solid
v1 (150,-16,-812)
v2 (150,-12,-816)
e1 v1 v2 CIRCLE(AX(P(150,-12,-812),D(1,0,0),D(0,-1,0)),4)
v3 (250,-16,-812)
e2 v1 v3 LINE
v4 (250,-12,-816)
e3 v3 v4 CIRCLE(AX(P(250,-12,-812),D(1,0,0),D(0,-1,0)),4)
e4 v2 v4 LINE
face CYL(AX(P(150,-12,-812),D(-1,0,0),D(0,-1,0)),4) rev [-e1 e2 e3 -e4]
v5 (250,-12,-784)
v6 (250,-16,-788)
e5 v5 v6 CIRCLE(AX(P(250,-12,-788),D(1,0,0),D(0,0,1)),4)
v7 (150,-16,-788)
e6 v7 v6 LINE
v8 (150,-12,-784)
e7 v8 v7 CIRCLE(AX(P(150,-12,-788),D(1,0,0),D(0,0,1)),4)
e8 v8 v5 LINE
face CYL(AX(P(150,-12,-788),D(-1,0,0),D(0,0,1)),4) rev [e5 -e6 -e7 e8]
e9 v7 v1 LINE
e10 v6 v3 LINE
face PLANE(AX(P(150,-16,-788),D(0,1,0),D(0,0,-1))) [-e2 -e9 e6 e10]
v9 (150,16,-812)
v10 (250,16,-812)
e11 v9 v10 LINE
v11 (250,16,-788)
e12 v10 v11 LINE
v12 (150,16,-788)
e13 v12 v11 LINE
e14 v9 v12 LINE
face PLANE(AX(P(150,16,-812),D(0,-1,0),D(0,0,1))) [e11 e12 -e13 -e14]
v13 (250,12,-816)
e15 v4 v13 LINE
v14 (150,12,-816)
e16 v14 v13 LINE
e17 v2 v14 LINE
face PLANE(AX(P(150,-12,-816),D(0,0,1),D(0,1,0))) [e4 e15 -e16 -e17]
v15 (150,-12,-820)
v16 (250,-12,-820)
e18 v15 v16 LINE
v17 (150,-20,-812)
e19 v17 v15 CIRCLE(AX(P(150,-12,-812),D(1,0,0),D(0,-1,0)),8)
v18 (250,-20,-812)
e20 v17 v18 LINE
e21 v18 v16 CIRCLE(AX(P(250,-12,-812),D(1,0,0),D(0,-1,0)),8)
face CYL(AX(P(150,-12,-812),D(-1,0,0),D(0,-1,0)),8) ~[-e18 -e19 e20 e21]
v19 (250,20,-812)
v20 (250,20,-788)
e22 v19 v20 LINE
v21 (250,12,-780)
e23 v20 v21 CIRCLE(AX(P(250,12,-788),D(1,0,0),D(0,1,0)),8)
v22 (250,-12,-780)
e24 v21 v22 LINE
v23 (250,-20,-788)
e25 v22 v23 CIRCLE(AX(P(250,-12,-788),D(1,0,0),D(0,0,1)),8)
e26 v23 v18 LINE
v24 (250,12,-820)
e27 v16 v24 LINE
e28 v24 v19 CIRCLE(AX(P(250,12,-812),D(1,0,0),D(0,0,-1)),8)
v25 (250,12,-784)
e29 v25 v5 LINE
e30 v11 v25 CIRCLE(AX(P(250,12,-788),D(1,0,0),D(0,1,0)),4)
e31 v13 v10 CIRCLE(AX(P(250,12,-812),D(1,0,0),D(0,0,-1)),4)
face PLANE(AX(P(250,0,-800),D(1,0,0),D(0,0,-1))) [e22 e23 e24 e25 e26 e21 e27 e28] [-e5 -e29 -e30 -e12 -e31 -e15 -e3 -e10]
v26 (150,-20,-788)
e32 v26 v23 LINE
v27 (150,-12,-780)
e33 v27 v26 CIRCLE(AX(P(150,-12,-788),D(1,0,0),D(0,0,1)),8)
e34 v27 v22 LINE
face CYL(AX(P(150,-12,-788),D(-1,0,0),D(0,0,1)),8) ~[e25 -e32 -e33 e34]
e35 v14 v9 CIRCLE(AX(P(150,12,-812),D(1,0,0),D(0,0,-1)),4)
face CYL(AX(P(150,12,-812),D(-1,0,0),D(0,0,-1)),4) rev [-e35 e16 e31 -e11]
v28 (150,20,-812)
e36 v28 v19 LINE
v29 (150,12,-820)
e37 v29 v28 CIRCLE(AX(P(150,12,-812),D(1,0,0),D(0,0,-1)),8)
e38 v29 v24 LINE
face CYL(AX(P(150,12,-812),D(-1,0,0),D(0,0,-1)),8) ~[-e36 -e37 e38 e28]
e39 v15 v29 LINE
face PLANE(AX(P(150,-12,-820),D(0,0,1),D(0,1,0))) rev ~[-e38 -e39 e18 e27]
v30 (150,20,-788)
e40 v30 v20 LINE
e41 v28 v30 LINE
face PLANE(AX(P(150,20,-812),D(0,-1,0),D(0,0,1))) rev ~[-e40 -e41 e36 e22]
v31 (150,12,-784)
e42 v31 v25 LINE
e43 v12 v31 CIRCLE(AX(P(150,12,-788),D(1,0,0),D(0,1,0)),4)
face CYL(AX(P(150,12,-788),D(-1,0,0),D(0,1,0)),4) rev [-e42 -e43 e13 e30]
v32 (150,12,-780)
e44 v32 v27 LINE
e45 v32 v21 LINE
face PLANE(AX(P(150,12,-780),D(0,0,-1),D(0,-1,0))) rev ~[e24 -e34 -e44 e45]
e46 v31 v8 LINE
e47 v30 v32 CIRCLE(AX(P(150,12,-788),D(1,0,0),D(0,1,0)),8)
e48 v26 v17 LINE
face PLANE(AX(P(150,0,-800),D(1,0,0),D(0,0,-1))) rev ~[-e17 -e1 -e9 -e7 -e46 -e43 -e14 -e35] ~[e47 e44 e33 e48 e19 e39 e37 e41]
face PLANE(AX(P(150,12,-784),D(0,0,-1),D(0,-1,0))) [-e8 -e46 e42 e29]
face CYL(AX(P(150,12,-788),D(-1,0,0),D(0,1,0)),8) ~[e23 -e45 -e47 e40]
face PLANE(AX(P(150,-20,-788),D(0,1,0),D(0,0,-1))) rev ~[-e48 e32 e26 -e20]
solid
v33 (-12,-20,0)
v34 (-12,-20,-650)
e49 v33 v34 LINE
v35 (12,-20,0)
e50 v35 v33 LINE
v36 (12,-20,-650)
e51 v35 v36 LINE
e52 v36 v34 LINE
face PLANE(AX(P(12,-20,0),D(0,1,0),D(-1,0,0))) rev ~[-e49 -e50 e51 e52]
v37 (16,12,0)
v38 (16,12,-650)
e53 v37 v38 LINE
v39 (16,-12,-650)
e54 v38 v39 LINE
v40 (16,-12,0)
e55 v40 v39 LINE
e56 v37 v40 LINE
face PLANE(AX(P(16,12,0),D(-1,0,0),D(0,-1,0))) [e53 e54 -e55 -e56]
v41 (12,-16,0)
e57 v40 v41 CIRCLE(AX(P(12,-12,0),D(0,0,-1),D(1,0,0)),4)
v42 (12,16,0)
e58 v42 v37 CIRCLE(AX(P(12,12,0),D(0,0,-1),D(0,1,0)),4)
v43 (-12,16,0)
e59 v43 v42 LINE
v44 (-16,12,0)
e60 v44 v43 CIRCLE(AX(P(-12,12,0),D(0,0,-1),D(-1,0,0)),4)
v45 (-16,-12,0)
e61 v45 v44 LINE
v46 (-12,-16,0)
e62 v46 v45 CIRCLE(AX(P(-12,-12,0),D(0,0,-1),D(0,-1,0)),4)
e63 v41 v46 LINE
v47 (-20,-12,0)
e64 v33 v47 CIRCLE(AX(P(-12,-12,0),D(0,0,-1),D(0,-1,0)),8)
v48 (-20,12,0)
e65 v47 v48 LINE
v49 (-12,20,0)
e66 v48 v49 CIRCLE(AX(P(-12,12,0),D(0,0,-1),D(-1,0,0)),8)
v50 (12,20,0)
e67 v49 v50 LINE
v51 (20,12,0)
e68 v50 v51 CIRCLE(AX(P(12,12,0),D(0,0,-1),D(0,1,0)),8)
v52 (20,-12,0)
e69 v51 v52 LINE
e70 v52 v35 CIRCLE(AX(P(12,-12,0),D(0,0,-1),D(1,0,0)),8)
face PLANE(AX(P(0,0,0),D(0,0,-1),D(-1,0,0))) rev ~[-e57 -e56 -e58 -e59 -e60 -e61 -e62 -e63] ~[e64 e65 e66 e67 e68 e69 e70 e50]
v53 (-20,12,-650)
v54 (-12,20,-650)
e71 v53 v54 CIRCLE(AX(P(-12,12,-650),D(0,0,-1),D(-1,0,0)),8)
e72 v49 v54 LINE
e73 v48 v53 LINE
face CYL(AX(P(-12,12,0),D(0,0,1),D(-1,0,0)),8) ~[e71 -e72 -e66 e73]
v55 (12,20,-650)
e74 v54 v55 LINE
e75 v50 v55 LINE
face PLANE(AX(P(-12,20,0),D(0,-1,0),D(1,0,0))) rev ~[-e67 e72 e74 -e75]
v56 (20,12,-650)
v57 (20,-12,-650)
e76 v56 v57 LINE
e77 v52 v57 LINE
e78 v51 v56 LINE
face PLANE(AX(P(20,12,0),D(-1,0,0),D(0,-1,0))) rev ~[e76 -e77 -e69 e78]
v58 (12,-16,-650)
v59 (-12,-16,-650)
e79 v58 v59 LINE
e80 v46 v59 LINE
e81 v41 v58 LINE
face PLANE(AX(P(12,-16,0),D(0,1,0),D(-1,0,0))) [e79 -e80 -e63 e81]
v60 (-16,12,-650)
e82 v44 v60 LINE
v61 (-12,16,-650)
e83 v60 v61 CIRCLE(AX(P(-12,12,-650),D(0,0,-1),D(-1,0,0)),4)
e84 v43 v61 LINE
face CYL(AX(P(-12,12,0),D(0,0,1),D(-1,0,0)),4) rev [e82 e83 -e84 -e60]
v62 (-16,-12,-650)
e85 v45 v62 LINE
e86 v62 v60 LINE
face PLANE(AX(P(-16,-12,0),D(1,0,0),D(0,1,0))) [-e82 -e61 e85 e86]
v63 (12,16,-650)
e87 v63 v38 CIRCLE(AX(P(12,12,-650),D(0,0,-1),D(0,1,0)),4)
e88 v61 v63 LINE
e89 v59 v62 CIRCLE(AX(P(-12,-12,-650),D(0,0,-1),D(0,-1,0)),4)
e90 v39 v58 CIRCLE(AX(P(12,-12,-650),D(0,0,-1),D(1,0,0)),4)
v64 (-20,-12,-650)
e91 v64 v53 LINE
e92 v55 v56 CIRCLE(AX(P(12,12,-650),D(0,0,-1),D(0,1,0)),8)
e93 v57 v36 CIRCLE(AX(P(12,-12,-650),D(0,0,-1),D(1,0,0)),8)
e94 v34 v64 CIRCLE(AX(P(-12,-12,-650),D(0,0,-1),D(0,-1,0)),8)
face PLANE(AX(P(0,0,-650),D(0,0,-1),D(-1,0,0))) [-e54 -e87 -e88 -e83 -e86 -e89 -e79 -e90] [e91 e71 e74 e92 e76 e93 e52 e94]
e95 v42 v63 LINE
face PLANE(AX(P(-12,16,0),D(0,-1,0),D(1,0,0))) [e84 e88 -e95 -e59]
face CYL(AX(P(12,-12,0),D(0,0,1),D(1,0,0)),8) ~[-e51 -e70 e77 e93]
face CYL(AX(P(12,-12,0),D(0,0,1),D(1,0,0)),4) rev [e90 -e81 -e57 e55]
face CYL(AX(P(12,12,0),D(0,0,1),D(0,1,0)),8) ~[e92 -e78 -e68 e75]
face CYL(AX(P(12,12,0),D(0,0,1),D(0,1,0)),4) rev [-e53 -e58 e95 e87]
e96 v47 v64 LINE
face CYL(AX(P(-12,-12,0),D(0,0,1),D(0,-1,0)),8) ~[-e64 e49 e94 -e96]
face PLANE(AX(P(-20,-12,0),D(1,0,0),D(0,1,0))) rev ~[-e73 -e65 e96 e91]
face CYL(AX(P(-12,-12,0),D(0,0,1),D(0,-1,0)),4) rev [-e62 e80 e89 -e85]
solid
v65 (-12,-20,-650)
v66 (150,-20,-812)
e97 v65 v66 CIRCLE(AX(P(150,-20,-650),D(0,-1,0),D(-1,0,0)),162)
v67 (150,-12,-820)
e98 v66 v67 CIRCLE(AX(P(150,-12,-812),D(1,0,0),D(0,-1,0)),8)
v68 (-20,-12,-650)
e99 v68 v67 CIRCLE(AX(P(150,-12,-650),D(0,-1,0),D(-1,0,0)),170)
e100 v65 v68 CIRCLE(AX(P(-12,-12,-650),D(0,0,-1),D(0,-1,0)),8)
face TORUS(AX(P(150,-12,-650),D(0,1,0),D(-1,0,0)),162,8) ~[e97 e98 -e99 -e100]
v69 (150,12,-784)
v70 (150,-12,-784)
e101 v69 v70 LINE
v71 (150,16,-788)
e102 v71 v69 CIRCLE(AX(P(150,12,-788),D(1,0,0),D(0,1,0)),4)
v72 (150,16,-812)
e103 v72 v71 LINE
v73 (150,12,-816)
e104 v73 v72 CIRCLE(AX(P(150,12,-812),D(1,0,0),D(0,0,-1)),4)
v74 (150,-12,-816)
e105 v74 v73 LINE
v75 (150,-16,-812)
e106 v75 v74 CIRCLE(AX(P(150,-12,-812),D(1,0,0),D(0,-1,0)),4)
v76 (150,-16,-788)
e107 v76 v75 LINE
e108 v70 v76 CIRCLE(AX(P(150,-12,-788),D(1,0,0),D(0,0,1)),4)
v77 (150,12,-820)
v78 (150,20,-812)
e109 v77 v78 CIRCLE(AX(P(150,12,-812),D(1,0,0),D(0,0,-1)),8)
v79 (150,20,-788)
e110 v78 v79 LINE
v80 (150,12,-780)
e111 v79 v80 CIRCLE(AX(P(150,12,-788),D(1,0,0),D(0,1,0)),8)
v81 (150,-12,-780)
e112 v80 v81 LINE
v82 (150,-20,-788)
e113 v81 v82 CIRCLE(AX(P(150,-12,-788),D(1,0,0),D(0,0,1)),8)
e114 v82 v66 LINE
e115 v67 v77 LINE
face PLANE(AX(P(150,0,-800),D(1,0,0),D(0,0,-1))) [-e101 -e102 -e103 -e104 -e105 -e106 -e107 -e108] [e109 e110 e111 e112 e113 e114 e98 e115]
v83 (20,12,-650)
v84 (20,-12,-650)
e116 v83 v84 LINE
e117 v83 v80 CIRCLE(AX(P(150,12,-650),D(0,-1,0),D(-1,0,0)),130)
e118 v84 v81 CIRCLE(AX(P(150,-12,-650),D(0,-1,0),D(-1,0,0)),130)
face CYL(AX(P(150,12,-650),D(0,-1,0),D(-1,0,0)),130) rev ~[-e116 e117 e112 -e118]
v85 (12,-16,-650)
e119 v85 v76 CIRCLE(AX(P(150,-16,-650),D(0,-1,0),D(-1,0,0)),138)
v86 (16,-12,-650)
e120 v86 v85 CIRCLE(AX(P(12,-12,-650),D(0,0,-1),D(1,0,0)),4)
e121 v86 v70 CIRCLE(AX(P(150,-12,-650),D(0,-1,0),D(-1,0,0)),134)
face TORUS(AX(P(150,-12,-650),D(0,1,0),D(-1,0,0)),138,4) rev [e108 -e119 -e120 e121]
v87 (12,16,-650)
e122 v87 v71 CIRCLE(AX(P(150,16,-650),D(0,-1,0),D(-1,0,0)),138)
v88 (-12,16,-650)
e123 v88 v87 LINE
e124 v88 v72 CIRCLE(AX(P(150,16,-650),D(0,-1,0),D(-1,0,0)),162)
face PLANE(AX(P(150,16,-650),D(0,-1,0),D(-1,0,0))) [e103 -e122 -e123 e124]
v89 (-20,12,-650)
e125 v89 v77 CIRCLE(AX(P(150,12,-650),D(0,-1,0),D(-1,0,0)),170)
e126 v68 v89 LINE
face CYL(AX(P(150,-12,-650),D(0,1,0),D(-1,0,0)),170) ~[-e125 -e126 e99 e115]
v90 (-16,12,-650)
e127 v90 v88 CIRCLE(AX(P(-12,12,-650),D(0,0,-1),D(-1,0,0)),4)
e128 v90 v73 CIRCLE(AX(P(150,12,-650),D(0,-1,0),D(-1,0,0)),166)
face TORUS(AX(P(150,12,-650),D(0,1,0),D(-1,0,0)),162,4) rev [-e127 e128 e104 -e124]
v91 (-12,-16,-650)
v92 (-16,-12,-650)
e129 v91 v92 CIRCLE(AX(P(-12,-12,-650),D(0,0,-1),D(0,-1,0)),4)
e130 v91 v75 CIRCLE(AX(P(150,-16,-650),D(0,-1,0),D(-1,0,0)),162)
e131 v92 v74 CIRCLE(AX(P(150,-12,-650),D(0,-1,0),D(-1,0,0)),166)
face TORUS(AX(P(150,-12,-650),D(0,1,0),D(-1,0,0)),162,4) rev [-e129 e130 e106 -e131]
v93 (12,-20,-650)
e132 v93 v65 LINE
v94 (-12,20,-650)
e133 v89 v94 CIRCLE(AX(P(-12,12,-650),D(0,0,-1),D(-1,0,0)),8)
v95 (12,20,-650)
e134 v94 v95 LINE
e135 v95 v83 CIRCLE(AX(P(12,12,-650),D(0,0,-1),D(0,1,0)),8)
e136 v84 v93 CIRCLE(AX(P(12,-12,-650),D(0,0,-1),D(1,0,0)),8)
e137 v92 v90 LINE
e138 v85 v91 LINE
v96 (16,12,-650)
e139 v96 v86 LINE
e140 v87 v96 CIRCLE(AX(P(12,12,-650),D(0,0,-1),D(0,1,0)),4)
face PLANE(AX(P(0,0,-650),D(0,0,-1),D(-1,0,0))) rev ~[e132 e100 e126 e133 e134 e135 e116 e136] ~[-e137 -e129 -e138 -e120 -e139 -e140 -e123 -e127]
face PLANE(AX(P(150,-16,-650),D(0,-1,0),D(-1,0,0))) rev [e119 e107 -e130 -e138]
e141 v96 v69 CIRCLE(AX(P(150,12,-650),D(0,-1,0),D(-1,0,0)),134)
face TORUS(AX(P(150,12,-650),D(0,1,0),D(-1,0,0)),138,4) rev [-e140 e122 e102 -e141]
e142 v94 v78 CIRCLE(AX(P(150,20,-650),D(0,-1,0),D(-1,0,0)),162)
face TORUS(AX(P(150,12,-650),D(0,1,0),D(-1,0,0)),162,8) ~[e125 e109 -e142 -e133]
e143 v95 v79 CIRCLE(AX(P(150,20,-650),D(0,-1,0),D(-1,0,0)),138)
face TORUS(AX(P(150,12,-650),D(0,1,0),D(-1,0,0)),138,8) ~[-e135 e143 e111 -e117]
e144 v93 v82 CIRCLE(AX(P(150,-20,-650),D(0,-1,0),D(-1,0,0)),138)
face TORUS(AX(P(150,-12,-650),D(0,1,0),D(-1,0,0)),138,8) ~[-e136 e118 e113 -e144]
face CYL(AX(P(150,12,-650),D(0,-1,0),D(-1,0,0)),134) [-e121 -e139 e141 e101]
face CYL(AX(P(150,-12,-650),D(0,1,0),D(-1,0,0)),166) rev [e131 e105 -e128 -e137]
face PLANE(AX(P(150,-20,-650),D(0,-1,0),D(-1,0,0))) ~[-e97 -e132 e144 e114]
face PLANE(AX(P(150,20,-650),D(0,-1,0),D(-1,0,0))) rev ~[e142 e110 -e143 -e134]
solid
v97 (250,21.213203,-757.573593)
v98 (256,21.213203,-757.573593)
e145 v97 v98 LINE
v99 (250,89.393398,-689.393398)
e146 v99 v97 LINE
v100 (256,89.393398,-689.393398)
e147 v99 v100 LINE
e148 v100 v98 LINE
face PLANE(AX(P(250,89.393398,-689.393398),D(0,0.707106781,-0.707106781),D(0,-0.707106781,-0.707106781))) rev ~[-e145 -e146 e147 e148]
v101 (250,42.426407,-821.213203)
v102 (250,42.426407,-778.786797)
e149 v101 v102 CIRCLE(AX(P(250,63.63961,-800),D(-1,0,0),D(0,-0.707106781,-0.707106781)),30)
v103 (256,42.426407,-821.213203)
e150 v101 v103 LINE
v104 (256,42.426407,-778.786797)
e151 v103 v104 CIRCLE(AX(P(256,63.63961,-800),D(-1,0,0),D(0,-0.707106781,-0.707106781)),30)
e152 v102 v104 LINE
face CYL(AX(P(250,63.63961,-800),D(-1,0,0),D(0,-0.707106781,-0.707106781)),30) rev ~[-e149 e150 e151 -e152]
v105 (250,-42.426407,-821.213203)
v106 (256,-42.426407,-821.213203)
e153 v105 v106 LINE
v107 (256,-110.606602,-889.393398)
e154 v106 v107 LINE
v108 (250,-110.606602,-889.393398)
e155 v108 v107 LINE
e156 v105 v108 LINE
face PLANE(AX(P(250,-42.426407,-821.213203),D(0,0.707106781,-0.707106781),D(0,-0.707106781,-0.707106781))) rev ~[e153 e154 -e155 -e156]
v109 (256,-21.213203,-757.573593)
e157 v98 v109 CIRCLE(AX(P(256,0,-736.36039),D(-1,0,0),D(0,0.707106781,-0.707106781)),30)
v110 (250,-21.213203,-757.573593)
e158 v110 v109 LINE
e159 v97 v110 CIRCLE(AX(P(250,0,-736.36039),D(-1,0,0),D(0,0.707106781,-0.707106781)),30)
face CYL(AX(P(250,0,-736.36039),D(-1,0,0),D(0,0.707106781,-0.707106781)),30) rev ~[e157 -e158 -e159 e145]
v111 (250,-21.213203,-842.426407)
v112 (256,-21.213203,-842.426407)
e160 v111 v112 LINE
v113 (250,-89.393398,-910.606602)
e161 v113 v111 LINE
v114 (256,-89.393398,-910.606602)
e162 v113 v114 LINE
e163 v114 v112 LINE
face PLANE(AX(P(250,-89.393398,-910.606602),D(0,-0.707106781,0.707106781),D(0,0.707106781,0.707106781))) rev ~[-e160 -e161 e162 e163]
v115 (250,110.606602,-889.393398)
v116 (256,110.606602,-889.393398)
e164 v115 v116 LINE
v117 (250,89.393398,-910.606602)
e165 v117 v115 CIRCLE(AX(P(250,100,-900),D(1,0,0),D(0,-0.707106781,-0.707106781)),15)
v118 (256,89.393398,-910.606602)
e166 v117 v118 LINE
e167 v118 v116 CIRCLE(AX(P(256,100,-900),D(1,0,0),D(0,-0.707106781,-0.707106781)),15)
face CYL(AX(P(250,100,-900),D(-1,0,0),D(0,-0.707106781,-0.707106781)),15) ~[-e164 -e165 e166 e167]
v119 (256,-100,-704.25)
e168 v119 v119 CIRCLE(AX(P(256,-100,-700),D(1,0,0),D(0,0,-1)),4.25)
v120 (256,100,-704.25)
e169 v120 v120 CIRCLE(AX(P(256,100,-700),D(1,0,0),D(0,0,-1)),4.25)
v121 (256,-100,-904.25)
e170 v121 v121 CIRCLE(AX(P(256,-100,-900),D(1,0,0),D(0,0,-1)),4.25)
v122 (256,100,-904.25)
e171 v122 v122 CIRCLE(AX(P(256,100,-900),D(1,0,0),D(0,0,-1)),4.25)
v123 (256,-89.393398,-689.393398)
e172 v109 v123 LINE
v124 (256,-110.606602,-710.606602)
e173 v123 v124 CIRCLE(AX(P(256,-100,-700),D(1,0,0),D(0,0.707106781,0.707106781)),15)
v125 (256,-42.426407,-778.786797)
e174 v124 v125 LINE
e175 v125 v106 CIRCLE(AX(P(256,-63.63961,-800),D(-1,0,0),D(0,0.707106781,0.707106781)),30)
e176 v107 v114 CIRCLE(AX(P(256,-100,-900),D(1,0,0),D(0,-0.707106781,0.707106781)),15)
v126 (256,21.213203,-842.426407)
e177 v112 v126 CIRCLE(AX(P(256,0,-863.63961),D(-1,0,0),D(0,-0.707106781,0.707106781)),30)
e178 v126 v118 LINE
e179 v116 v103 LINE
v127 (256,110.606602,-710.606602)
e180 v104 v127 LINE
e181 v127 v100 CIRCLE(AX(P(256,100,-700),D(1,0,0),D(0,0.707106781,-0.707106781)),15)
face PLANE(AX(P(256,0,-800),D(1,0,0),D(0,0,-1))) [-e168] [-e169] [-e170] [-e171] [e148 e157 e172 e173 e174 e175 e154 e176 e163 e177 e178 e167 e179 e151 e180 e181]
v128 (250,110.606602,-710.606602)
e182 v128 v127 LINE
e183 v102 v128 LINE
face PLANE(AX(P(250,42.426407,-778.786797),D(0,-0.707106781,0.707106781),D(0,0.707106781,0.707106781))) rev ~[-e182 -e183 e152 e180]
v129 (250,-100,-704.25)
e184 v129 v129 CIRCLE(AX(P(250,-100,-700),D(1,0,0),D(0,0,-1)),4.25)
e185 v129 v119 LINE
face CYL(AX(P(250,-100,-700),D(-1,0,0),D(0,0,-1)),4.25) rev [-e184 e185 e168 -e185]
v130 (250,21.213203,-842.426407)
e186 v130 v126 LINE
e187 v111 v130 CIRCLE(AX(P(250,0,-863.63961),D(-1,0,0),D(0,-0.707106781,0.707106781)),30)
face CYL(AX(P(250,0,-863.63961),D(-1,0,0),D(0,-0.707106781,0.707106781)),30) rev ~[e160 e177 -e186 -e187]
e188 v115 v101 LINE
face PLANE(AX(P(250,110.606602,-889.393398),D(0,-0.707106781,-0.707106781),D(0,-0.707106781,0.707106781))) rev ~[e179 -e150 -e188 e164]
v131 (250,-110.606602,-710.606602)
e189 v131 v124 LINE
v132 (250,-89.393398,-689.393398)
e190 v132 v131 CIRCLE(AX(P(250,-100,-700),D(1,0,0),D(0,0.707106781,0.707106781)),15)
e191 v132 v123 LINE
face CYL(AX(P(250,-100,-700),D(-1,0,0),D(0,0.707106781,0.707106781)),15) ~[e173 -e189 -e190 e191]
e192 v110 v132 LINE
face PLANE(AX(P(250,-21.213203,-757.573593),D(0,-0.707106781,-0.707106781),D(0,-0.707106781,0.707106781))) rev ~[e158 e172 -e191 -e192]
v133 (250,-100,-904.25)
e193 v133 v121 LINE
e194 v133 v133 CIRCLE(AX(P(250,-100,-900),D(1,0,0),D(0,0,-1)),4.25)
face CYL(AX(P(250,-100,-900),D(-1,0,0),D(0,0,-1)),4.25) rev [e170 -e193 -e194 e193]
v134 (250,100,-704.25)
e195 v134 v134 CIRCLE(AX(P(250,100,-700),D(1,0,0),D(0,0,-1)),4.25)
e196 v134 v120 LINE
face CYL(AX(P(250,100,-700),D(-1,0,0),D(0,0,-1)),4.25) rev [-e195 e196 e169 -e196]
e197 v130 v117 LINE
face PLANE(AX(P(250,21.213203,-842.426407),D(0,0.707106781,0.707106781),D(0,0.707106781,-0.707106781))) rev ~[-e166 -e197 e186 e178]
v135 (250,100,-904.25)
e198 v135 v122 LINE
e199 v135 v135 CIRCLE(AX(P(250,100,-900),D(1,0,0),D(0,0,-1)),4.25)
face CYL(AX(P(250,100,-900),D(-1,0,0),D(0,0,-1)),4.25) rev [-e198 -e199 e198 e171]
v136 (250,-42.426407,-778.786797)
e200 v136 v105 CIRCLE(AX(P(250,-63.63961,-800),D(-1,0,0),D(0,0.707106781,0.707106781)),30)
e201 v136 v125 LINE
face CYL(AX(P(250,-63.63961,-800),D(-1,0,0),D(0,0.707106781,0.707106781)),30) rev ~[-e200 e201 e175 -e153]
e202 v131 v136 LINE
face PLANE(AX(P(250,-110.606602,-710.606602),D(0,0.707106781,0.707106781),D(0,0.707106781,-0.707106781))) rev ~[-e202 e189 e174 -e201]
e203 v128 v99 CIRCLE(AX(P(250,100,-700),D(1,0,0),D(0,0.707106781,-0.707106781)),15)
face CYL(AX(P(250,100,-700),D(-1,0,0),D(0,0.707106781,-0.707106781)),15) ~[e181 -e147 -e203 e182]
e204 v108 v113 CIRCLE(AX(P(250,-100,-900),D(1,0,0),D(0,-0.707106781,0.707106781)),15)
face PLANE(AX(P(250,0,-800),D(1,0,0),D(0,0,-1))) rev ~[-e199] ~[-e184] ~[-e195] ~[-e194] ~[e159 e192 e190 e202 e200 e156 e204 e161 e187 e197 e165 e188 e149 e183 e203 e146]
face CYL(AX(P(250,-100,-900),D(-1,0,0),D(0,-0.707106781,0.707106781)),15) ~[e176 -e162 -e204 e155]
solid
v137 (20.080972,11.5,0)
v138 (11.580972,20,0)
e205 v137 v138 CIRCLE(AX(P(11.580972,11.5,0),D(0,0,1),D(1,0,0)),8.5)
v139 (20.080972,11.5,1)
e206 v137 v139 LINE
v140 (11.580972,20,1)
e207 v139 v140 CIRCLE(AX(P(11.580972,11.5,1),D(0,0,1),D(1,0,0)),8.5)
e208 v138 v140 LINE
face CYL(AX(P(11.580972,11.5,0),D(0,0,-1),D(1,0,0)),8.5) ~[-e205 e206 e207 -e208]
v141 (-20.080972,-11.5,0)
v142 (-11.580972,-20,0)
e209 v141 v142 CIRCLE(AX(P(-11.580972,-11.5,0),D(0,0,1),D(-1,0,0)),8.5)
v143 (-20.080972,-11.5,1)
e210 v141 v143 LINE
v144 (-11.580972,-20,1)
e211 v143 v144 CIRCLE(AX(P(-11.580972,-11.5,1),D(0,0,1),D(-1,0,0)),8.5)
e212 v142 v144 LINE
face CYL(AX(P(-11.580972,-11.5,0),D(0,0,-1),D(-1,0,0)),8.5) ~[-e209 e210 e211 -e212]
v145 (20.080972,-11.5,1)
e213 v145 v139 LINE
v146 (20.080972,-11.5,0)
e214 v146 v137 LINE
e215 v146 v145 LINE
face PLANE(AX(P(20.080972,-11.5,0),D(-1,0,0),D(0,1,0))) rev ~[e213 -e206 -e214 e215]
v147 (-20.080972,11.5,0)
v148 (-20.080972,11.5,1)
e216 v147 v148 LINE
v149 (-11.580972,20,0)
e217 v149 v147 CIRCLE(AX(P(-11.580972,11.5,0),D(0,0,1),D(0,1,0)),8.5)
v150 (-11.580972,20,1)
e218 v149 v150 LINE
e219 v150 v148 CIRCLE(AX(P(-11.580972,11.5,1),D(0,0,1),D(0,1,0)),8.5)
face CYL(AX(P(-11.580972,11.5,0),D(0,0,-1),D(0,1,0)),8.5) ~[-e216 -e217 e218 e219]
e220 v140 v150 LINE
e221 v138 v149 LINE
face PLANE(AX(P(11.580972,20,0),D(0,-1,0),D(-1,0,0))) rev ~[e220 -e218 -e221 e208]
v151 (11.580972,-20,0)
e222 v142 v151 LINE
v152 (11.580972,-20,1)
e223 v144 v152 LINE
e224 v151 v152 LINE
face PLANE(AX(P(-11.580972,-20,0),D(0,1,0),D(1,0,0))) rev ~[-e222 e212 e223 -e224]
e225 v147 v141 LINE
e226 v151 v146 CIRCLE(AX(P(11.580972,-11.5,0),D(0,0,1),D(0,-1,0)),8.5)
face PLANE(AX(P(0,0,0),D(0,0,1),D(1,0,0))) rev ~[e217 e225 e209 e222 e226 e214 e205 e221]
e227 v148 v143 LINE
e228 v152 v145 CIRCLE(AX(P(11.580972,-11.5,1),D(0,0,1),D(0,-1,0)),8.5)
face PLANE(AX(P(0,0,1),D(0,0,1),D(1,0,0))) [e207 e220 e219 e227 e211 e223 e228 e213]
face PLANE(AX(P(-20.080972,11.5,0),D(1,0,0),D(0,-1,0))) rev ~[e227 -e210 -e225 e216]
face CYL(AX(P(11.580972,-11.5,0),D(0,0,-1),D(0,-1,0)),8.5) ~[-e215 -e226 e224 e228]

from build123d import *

# Parameters (mm, degrees)
SQUARE_TUBE_40_X_40_X_4_1_DEPTH   = 650
SQUARE_TUBE_40_X_40_X_4_1_2_ANGLE = 90
SQUARE_TUBE_40_X_40_X_4_1_3_DEPTH = 100
BOSS_EXTRUDE1_DEPTH               = 1
SKETCH13_R                        = 4.25
BOSS_EXTRUDE2_DEPTH               = 6


with BuildPart() as part:
    # Sketch11 → Square tube 40 X 40 X 4(1) (new body)
    with BuildSketch(Plane(origin=(0, 0, 0), x_dir=(-1, 0, 0), z_dir=(0, 0, -1))):
        with BuildLine():
            Line((-12, -20), (12, -20))
            ThreePointArc((12, -20), (17.656854249, -17.656854249), (20, -12))
            Line((20, -12), (20, 12))
            ThreePointArc((20, 12), (17.656854249, 17.656854249), (12, 20))
            Line((12, 20), (-12, 20))
            ThreePointArc((-12, 20), (-17.656854249, 17.656854249), (-20, 12))
            Line((-20, 12), (-20, -12))
            ThreePointArc((-20, -12), (-17.656854249, -17.656854249), (-12, -20))
        make_face()
        with BuildLine():
            Line((-12, -16), (12, -16))
            ThreePointArc((12, -16), (14.828427125, -14.828427125), (16, -12))
            Line((16, -12), (16, 12))
            ThreePointArc((16, 12), (14.828427125, 14.828427125), (12, 16))
            Line((12, 16), (-12, 16))
            ThreePointArc((-12, 16), (-14.828427125, 14.828427125), (-16, 12))
            Line((-16, 12), (-16, -12))
            ThreePointArc((-16, -12), (-14.828427125, -14.828427125), (-12, -16))
        make_face(mode=Mode.SUBTRACT)
    extrude(amount=SQUARE_TUBE_40_X_40_X_4_1_DEPTH)


with BuildPart() as body_2:
    # Sketch11 on segment 2 (carried to the start of arc 2) → Square tube 40 X 40 X 4_1 2 (revolve)
    with BuildSketch(Plane(origin=(0, 0, -650), x_dir=(-1, 0, 0), z_dir=(0, 0, -1))):
        with BuildLine():
            Line((-12, -20), (12, -20))
            ThreePointArc((12, -20), (17.656854249, -17.656854249), (20, -12))
            Line((20, -12), (20, 12))
            ThreePointArc((20, 12), (17.656854249, 17.656854249), (12, 20))
            Line((12, 20), (-12, 20))
            ThreePointArc((-12, 20), (-17.656854249, 17.656854249), (-20, 12))
            Line((-20, 12), (-20, -12))
            ThreePointArc((-20, -12), (-17.656854249, -17.656854249), (-12, -20))
        make_face()
        with BuildLine():
            Line((-12, -16), (12, -16))
            ThreePointArc((12, -16), (14.828427125, -14.828427125), (16, -12))
            Line((16, -12), (16, 12))
            ThreePointArc((16, 12), (14.828427125, 14.828427125), (12, 16))
            Line((12, 16), (-12, 16))
            ThreePointArc((-12, 16), (-14.828427125, 14.828427125), (-16, 12))
            Line((-16, 12), (-16, -12))
            ThreePointArc((-16, -12), (-14.828427125, -14.828427125), (-12, -16))
        make_face(mode=Mode.SUBTRACT)
    revolve(axis=Axis((150, 0, -650), (0, -1, 0)), revolution_arc=SQUARE_TUBE_40_X_40_X_4_1_2_ANGLE)


with BuildPart() as body_3:
    # Sketch11 on segment 3 (carried to segment 3) → Square tube 40 X 40 X 4_1 3 (new body)
    with BuildSketch(Plane(origin=(150, 0, -800), x_dir=(0, 0, -1), z_dir=(1, 0, 0))):
        with BuildLine():
            Line((-12, -20), (12, -20))
            ThreePointArc((12, -20), (17.656854249, -17.656854249), (20, -12))
            Line((20, -12), (20, 12))
            ThreePointArc((20, 12), (17.656854249, 17.656854249), (12, 20))
            Line((12, 20), (-12, 20))
            ThreePointArc((-12, 20), (-17.656854249, 17.656854249), (-20, 12))
            Line((-20, 12), (-20, -12))
            ThreePointArc((-20, -12), (-17.656854249, -17.656854249), (-12, -20))
        make_face()
        with BuildLine():
            Line((-12, -16), (12, -16))
            ThreePointArc((12, -16), (14.828427125, -14.828427125), (16, -12))
            Line((16, -12), (16, 12))
            ThreePointArc((16, 12), (14.828427125, 14.828427125), (12, 16))
            Line((12, 16), (-12, 16))
            ThreePointArc((-12, 16), (-14.828427125, 14.828427125), (-16, 12))
            Line((-16, 12), (-16, -12))
            ThreePointArc((-16, -12), (-14.828427125, -14.828427125), (-12, -16))
        make_face(mode=Mode.SUBTRACT)
    extrude(amount=SQUARE_TUBE_40_X_40_X_4_1_3_DEPTH)


with BuildPart() as body_4:
    # Sketch12 → Boss-Extrude1 (new body)
    with BuildSketch(Plane.XY):
        with BuildLine():
            Line((-11.580971912, -20), (11.580971912, -20))
            ThreePointArc((11.580971912, -20), (17.591379552, -17.51040764), (20.080971912, -11.5))
            Line((20.080971912, -11.5), (20.080971912, 11.5))
            ThreePointArc((20.080971912, 11.5), (17.591379552, 17.51040764), (11.580971912, 20))
            Line((11.580971912, 20), (-11.580971912, 20))
            ThreePointArc((-11.580971912, 20), (-17.591379552, 17.51040764), (-20.080971912, 11.5))
            Line((-20.080971912, 11.5), (-20.080971912, -11.5))
            ThreePointArc((-20.080971912, -11.5), (-17.591379552, -17.51040764), (-11.580971912, -20))
        make_face()
    extrude(amount=BOSS_EXTRUDE1_DEPTH)


with BuildPart() as body_5:
    # Sketch13 → Boss-Extrude2 (new body)
    with BuildSketch(Plane(origin=(250, 0, 0), x_dir=(0, 0, -1), z_dir=(1, 0, 0))):
        with BuildLine():
            Line((842.426406871, 21.213203436), (910.606601718, 89.393398282))
            ThreePointArc((910.606601718, 89.393398282), (910.606601718, 110.606601718), (889.393398282, 110.606601718))
            Line((889.393398282, 110.606601718), (821.213203436, 42.426406871))
            ThreePointArc((821.213203436, 42.426406871), (800, 33.639610307), (778.786796564, 42.426406871))
            Line((778.786796564, 42.426406871), (710.606601718, 110.606601718))
            ThreePointArc((710.606601718, 110.606601718), (689.393398282, 110.606601718), (689.393398282, 89.393398282))
            Line((689.393398282, 89.393398282), (757.573593129, 21.213203436))
            ThreePointArc((757.573593129, 21.213203436), (766.360389693, 0), (757.573593129, -21.213203436))
            Line((757.573593129, -21.213203436), (689.393398282, -89.393398282))
            ThreePointArc((689.393398282, -89.393398282), (689.393398282, -110.606601718), (710.606601718, -110.606601718))
            Line((710.606601718, -110.606601718), (778.786796564, -42.426406871))
            ThreePointArc((778.786796564, -42.426406871), (800, -33.639610307), (821.213203436, -42.426406871))
            Line((821.213203436, -42.426406871), (889.393398282, -110.606601718))
            ThreePointArc((889.393398282, -110.606601718), (910.606601718, -110.606601718), (910.606601718, -89.393398282))
            Line((910.606601718, -89.393398282), (842.426406871, -21.213203436))
            ThreePointArc((842.426406871, -21.213203436), (833.639610307, 0), (842.426406871, 21.213203436))
        make_face()
        with Locations((900, 100)):
            Circle(SKETCH13_R, mode=Mode.SUBTRACT)
        with Locations((900, -100)):
            Circle(SKETCH13_R, mode=Mode.SUBTRACT)
        with Locations((700, -100)):
            Circle(SKETCH13_R, mode=Mode.SUBTRACT)
        with Locations((700, 100)):
            Circle(SKETCH13_R, mode=Mode.SUBTRACT)
    extrude(amount=BOSS_EXTRUDE2_DEPTH)


solid = Compound([part.part, body_2.part, body_3.part, body_4.part, body_5.part])
